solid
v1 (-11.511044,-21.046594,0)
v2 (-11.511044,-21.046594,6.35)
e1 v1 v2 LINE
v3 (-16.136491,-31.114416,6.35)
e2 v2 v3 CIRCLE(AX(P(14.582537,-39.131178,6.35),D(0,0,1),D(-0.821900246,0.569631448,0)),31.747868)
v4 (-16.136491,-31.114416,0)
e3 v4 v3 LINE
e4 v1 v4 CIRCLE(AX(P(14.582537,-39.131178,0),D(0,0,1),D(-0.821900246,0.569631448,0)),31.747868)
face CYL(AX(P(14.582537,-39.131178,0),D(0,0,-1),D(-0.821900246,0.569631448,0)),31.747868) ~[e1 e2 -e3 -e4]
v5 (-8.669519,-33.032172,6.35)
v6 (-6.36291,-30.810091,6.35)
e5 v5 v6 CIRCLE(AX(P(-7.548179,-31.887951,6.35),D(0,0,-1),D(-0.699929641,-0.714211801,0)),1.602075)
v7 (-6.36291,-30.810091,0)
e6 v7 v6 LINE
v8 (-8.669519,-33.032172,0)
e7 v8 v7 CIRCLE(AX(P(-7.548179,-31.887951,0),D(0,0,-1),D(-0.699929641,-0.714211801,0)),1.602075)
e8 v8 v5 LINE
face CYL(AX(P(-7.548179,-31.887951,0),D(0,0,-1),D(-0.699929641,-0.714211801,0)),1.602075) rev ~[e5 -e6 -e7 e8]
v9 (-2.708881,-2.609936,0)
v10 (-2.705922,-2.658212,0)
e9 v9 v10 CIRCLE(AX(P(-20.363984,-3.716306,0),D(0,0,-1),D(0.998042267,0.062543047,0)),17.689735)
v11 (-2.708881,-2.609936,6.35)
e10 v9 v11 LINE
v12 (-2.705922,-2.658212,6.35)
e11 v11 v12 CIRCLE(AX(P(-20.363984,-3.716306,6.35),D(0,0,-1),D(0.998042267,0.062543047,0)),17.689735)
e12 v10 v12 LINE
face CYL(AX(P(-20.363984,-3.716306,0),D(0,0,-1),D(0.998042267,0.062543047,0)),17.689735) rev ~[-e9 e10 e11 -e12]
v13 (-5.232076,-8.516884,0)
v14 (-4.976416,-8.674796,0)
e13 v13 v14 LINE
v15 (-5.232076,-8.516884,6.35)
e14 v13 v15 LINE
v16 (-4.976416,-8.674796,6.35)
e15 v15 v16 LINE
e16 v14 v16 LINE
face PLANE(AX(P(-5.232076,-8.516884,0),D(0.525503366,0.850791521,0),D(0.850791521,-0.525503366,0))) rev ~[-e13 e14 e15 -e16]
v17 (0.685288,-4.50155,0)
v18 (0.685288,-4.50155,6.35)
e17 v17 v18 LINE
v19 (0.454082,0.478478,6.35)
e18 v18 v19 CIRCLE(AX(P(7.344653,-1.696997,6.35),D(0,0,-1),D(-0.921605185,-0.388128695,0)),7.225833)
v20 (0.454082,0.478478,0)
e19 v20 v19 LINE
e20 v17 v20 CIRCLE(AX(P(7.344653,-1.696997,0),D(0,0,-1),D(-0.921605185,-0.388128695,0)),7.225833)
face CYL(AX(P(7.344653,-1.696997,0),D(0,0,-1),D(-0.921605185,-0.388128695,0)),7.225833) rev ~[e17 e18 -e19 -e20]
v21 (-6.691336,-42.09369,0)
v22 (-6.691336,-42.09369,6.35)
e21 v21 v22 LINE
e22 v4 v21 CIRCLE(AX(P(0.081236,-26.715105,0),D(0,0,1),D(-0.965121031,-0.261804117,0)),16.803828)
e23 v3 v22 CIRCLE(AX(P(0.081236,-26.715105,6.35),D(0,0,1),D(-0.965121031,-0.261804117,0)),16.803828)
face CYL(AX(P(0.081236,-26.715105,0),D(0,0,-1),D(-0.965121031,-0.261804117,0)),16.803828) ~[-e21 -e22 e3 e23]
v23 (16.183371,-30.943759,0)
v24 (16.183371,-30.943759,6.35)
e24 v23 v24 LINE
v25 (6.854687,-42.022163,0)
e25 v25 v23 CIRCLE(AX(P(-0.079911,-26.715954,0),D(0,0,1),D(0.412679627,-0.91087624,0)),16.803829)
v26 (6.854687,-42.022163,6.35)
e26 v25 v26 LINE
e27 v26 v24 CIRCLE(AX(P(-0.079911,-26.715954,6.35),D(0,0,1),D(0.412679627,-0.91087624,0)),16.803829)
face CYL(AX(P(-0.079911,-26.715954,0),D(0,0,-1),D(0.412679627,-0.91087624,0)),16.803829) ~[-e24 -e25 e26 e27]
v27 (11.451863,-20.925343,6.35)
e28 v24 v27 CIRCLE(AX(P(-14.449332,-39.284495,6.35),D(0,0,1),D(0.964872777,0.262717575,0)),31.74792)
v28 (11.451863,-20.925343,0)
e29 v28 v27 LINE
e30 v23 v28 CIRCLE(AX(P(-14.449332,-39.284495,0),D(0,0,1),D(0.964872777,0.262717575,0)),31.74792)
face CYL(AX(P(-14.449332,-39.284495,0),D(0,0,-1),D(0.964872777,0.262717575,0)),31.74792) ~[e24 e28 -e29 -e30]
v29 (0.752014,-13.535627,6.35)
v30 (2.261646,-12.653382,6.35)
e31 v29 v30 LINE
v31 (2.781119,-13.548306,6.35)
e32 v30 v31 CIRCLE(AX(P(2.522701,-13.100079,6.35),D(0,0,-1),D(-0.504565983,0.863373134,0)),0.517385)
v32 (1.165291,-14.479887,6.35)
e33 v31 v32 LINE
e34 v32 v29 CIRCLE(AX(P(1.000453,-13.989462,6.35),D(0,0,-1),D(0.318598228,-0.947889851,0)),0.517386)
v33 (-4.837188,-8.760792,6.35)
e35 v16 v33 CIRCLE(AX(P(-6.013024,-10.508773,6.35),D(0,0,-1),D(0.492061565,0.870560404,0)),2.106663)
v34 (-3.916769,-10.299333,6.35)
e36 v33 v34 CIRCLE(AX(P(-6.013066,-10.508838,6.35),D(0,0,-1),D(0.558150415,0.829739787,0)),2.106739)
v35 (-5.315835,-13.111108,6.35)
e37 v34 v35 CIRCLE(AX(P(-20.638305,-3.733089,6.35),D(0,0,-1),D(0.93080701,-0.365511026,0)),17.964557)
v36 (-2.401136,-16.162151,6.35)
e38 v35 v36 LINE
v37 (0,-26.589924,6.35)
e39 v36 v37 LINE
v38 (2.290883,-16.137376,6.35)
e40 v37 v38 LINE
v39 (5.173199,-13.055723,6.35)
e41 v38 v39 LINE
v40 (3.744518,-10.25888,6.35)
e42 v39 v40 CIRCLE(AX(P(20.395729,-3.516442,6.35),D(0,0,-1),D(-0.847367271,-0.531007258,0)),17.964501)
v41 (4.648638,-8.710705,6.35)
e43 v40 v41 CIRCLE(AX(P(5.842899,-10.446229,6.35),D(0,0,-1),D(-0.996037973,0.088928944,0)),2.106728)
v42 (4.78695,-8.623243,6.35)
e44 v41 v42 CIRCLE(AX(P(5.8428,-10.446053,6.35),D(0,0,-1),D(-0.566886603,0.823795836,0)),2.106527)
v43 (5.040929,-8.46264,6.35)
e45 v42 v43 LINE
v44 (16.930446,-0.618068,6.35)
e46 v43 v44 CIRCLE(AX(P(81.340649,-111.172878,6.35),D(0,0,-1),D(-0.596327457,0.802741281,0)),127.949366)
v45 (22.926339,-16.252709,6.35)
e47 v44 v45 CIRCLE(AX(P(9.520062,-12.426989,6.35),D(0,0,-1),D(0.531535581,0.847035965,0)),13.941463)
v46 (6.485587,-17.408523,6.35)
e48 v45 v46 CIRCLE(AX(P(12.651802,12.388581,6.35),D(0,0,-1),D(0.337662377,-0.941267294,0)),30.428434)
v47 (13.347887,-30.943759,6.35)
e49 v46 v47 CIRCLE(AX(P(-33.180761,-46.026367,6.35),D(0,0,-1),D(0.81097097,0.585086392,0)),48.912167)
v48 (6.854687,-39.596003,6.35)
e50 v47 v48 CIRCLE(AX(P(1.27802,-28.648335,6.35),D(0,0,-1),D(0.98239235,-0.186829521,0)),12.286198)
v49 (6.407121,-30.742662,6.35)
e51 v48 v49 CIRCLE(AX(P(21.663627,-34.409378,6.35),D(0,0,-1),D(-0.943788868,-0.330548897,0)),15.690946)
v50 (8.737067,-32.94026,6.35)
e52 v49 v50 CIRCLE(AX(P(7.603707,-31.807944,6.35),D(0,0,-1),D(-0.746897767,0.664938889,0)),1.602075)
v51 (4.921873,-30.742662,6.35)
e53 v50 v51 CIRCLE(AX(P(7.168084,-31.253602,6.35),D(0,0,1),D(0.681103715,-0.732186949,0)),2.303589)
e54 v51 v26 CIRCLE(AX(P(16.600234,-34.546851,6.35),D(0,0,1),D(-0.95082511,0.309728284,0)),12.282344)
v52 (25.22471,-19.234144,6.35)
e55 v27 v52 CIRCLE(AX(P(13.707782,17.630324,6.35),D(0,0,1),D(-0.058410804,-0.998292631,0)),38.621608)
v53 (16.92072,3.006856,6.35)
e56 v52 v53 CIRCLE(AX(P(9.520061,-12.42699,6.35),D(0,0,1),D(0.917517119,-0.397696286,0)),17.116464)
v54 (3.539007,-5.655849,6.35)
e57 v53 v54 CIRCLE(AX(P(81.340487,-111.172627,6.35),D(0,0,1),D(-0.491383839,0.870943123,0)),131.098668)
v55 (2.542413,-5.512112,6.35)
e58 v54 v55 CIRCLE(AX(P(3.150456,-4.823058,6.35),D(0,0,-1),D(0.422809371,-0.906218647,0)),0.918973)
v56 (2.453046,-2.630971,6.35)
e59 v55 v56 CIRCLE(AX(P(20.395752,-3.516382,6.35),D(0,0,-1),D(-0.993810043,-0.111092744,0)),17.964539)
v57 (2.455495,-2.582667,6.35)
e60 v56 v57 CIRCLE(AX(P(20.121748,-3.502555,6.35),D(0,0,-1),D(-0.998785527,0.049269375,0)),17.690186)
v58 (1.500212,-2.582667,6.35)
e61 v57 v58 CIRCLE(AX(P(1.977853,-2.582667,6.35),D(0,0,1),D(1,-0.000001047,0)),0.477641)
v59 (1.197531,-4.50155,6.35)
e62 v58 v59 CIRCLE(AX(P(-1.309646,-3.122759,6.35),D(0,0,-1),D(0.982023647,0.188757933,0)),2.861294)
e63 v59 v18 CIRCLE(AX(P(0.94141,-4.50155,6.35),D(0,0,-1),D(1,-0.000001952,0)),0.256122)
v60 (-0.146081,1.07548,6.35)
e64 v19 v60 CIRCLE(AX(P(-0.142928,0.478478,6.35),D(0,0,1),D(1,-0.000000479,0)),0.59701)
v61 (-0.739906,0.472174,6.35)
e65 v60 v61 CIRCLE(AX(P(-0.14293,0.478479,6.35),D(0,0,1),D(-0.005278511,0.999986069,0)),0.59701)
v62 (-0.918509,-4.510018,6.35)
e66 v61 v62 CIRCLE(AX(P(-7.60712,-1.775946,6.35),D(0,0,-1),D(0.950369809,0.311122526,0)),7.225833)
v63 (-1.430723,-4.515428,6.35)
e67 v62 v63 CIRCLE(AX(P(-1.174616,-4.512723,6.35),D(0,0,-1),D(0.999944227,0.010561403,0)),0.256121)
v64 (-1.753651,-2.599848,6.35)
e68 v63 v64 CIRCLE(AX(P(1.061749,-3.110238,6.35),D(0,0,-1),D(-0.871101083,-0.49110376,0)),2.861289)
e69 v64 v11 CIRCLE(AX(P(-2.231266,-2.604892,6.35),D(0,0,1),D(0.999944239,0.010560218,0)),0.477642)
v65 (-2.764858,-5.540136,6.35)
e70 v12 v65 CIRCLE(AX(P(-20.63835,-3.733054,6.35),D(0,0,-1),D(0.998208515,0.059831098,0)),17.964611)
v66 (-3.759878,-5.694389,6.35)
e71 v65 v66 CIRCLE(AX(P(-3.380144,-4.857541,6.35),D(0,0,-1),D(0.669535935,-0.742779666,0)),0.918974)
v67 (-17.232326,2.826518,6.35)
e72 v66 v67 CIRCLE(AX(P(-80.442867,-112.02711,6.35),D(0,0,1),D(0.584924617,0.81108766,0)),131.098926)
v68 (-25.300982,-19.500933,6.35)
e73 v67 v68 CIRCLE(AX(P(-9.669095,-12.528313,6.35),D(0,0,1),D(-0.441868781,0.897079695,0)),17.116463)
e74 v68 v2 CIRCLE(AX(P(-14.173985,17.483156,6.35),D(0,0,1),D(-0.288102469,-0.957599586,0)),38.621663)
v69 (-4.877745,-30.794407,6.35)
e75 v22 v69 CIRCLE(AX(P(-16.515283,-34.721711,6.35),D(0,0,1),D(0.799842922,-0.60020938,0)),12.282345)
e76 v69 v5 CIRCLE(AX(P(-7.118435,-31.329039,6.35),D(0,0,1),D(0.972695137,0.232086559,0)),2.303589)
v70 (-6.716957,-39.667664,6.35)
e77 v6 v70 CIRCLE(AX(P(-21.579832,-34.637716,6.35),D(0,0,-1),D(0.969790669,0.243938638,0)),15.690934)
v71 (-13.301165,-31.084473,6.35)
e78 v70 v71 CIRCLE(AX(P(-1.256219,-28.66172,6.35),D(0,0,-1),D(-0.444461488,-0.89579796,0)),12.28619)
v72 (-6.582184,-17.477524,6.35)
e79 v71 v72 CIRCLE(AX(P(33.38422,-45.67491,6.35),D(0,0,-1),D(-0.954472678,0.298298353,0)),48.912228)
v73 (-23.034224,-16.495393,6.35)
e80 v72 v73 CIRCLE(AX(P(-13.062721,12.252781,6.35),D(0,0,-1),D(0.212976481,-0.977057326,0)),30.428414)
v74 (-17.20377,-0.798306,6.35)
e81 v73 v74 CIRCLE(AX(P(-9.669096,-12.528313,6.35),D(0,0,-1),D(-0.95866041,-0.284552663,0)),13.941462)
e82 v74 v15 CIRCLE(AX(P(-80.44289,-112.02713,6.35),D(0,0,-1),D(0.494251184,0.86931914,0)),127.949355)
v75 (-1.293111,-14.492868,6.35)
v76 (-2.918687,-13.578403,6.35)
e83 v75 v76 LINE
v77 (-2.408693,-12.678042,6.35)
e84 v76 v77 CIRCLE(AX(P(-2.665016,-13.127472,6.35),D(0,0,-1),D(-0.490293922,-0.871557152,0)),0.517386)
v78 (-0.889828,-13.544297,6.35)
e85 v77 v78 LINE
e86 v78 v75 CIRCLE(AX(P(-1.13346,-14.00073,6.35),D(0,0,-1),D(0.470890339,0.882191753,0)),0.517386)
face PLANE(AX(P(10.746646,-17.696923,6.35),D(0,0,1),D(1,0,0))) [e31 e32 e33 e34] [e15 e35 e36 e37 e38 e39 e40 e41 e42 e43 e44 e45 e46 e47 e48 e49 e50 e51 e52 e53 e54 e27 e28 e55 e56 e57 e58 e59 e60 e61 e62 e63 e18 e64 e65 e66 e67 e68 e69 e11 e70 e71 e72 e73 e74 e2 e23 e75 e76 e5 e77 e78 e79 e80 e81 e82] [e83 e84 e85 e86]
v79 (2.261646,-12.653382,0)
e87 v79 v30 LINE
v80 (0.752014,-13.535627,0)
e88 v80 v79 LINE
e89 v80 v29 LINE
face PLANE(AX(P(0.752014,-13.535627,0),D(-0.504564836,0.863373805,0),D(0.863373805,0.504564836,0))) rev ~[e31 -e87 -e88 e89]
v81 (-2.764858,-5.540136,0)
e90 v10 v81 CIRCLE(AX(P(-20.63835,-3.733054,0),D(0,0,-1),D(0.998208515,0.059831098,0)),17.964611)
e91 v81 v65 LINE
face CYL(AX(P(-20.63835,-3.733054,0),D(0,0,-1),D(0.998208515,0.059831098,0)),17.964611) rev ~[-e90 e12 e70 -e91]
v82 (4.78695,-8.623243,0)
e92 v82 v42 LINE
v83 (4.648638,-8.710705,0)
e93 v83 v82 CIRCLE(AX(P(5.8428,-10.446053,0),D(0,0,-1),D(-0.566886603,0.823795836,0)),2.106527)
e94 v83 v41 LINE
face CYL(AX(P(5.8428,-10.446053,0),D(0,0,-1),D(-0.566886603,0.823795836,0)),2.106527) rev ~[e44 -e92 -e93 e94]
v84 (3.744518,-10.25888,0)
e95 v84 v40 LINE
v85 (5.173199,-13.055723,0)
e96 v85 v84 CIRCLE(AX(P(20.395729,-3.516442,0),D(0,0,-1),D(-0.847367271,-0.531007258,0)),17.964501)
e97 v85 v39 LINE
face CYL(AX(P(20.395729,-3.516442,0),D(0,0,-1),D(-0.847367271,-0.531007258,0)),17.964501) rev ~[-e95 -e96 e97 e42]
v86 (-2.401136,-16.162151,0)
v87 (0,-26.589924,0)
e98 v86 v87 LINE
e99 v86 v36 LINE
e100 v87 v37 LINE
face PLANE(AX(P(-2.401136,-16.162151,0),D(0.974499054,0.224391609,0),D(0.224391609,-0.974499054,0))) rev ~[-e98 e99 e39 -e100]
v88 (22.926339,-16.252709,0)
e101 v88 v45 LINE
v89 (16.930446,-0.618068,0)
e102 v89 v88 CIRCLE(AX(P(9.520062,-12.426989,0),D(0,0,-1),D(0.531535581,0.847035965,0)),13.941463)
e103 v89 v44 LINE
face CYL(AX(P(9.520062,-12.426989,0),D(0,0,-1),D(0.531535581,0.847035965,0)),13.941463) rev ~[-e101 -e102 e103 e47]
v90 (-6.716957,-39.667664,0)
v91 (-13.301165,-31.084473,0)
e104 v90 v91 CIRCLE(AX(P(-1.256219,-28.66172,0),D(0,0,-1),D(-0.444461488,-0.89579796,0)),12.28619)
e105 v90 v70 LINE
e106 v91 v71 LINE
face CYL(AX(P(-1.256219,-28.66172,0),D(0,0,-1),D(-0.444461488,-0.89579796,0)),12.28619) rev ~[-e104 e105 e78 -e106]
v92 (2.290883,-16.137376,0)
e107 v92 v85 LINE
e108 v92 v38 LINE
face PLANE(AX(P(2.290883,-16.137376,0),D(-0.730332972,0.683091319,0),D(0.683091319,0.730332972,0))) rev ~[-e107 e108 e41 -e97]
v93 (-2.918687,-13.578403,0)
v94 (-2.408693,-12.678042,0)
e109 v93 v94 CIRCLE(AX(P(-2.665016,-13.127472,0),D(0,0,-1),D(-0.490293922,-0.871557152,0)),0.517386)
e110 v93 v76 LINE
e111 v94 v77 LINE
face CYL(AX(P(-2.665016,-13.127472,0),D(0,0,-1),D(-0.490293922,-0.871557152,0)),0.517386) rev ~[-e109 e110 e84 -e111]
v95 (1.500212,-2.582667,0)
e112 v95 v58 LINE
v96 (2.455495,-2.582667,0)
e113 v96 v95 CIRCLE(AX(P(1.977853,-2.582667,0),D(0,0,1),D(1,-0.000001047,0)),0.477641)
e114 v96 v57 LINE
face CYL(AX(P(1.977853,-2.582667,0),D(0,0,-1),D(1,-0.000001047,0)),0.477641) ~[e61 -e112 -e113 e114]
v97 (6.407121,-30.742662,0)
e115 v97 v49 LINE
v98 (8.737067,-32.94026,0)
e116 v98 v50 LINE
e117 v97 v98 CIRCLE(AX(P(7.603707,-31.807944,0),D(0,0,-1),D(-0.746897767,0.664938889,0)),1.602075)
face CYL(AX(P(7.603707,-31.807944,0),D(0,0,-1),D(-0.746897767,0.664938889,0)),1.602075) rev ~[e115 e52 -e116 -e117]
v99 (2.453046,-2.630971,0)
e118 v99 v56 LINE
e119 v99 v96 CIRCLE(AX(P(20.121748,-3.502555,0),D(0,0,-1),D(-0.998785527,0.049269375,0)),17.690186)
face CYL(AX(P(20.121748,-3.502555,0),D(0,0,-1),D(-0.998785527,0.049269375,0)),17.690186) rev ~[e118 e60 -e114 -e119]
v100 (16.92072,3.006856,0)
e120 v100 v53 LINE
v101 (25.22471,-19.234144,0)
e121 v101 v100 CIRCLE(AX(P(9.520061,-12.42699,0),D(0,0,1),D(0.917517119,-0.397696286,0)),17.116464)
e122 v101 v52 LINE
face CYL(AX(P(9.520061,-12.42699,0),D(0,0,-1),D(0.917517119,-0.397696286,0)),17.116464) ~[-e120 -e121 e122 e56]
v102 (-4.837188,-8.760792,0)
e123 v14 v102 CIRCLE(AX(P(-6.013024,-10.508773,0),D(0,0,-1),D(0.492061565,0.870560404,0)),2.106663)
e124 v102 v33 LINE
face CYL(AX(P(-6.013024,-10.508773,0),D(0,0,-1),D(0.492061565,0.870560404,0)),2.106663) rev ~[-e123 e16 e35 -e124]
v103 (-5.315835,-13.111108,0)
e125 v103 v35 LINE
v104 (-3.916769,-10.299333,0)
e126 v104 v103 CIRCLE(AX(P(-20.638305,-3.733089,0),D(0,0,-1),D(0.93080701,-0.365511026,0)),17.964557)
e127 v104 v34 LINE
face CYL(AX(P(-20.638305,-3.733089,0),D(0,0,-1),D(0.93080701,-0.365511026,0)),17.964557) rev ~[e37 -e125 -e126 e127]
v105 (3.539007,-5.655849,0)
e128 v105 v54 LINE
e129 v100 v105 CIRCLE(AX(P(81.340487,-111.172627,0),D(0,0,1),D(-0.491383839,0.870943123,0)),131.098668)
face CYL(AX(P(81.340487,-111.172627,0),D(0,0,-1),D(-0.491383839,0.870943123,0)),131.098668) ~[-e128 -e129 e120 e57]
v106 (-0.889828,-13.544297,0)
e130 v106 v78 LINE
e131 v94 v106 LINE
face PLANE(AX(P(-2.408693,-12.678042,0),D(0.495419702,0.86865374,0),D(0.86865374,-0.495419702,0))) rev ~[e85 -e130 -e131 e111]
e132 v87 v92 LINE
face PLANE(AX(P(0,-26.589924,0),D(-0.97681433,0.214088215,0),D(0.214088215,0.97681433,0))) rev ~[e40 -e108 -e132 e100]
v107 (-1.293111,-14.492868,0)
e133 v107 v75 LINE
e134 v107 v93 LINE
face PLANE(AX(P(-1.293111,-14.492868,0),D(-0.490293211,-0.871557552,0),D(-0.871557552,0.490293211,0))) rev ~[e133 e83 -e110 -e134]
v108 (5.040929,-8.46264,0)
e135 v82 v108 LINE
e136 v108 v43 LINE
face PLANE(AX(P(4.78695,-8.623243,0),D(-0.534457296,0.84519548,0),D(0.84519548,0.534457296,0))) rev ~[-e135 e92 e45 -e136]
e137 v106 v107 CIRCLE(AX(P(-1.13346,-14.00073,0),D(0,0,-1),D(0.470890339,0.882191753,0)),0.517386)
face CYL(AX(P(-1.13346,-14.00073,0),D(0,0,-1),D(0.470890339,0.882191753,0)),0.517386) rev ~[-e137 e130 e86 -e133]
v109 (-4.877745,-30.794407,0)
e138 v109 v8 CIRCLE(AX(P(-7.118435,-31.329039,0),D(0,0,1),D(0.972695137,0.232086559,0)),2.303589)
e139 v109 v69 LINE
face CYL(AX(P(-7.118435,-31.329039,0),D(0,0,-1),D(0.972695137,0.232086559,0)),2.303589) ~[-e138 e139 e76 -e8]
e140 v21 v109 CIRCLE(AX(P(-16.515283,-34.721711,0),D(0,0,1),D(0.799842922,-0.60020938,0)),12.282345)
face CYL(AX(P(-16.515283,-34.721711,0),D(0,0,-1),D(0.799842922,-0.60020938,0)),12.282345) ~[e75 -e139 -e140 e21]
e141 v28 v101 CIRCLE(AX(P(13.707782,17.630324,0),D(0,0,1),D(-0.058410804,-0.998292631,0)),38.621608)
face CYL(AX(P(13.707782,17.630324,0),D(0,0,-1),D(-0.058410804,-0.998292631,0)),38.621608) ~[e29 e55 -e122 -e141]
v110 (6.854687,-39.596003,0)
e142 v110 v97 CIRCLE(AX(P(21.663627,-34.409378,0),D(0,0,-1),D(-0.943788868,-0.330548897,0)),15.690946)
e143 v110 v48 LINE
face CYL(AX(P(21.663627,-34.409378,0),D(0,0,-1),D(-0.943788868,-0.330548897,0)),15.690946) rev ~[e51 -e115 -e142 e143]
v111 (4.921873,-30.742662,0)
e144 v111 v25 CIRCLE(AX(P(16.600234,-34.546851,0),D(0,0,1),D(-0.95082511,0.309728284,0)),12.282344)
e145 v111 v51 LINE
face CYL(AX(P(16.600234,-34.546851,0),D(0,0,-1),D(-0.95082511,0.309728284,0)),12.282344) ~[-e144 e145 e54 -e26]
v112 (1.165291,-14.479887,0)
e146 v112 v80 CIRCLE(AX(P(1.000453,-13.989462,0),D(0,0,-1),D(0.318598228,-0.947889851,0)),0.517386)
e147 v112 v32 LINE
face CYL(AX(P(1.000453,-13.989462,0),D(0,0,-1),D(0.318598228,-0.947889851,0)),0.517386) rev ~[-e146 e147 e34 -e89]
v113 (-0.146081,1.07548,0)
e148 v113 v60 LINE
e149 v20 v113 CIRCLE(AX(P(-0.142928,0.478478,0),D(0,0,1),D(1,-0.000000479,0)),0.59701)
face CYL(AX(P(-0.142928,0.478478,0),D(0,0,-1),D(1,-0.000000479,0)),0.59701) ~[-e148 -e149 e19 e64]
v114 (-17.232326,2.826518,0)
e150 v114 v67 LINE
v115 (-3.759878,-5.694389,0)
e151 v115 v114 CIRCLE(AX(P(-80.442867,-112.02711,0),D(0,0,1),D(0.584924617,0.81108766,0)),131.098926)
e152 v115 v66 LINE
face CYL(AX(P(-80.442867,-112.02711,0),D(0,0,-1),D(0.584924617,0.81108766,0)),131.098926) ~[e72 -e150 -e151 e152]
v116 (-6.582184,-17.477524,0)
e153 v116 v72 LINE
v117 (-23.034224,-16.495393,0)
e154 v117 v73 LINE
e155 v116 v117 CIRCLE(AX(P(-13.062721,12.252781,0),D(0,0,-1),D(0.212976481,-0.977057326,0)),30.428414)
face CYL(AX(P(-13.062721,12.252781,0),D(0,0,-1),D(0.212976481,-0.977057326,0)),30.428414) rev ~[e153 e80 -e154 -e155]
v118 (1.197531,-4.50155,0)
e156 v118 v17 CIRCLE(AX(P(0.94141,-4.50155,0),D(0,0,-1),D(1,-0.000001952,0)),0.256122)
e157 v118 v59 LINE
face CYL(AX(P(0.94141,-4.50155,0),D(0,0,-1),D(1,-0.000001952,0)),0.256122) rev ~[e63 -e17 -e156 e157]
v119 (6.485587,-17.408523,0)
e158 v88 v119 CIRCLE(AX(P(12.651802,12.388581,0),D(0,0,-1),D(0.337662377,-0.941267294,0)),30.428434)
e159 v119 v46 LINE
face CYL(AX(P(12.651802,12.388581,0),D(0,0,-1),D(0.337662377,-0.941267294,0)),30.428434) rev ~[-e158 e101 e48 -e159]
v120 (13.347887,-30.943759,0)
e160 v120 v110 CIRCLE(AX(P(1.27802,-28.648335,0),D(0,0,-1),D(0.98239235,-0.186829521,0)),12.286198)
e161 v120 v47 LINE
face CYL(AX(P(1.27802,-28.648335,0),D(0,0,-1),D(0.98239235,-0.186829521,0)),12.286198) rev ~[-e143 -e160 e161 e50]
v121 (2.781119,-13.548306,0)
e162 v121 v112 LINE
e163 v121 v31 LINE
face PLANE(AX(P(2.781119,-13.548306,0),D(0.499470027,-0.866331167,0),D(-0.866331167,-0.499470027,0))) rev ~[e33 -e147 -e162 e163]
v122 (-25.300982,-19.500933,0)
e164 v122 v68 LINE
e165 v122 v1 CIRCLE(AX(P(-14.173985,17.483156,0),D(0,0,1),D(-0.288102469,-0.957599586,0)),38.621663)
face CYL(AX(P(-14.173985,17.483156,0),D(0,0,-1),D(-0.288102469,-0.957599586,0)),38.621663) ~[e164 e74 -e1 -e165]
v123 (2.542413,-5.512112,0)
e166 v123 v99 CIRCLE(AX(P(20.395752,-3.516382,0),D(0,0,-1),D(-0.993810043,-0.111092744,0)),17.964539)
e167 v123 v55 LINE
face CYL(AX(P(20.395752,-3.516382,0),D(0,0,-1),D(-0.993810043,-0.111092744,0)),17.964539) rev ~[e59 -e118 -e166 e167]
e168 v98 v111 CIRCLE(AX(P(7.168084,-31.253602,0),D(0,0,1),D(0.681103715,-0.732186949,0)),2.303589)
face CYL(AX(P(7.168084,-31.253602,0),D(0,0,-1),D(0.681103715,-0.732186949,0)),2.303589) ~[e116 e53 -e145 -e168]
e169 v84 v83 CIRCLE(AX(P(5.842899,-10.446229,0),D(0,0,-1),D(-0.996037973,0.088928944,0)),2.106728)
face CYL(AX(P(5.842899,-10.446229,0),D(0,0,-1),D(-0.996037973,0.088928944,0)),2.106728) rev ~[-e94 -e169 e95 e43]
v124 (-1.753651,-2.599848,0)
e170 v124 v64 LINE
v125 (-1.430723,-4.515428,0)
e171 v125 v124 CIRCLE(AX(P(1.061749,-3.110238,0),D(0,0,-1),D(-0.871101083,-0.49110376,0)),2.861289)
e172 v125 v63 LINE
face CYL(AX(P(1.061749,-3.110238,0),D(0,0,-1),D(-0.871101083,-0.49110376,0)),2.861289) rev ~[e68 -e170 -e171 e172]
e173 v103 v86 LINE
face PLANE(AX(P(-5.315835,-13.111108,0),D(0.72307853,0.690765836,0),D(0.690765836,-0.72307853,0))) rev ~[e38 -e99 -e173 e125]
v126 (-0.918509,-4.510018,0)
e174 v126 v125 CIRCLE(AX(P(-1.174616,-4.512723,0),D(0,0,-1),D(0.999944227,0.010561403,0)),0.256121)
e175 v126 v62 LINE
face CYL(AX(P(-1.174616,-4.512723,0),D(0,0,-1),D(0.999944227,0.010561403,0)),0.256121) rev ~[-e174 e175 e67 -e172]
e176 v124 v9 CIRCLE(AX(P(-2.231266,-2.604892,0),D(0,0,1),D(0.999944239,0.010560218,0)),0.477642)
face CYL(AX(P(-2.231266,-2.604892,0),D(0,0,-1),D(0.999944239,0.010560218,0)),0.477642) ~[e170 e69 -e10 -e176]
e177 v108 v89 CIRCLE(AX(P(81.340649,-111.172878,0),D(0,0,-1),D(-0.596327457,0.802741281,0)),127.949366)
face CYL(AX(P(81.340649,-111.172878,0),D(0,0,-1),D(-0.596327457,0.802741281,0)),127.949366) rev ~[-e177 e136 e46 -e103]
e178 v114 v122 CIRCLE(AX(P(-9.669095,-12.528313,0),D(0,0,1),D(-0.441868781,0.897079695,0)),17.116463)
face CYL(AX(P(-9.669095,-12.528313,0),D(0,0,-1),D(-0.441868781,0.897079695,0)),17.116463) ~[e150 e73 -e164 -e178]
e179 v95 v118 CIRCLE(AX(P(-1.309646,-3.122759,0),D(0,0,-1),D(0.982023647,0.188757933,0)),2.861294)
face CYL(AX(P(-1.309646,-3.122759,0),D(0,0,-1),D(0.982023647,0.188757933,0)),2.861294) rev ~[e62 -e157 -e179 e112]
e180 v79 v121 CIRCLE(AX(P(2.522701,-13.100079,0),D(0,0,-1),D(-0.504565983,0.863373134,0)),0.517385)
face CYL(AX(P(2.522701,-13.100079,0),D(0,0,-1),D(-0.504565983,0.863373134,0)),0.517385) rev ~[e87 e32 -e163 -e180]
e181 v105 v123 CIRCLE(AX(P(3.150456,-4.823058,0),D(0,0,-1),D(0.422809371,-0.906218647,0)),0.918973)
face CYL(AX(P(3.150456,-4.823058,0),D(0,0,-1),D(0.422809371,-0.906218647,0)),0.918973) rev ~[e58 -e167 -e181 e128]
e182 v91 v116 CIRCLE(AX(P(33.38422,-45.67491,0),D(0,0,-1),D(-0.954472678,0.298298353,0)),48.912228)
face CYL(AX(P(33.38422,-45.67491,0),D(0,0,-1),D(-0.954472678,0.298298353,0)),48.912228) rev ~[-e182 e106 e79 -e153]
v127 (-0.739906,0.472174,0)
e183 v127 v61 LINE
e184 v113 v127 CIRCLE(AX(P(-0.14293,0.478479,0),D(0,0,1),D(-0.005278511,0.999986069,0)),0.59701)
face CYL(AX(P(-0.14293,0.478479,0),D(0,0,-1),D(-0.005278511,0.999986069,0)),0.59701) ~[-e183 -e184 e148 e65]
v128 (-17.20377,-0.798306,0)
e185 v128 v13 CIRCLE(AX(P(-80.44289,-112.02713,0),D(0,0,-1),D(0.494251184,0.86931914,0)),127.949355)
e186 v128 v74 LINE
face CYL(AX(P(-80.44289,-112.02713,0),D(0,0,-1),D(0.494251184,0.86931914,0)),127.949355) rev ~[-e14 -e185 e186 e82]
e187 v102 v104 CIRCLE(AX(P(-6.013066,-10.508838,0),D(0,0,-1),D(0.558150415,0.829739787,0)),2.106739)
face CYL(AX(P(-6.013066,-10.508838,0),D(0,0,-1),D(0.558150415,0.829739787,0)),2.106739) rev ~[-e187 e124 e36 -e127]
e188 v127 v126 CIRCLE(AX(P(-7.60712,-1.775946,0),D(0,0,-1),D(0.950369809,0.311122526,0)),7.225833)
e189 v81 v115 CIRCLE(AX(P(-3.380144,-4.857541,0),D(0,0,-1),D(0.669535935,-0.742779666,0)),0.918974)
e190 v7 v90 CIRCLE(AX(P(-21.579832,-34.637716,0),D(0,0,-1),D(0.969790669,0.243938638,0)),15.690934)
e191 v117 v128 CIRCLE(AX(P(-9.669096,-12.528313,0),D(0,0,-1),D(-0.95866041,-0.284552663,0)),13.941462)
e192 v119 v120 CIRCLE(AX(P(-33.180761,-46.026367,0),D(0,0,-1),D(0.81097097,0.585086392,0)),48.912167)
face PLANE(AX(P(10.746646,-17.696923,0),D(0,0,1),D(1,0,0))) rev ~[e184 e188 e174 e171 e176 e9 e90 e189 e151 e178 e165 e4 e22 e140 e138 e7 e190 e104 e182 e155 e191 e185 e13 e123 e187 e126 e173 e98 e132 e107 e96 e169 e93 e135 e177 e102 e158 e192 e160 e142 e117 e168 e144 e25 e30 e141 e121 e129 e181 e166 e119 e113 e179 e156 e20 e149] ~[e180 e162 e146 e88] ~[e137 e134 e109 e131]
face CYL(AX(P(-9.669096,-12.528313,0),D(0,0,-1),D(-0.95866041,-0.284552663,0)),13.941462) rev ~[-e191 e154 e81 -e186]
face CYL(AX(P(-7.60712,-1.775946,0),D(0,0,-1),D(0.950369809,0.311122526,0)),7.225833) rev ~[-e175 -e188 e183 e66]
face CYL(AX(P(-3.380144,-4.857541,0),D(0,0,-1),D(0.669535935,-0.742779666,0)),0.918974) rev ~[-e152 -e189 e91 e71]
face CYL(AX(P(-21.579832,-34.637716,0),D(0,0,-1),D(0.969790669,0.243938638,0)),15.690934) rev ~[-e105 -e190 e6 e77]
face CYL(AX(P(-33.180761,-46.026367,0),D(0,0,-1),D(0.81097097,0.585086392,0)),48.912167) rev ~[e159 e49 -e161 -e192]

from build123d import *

# Parameters (mm, degrees)
F1_DEPTH = 6.35


with BuildPart() as f1:
    # F0 (on Top) → F1 (new body)
    with BuildSketch(Plane.XY):
        with BuildLine():
            ThreePointArc((0.454082, 0.478478), (0.278106, 0.901741), (-0.146081, 1.07548))
            Line((-0.146081, 1.07548), (0, -26.589924))
            Line((0, -26.589924), (2.290883, -16.137376))
            Line((2.290883, -16.137376), (5.173199, -13.055723))
            ThreePointArc((5.173199, -13.055723), (4.397622, -11.688582), (3.744518, -10.25888))
            ThreePointArc((3.744518, -10.25888), (4.023673, -9.383817), (4.648638, -8.710705))
            ThreePointArc((4.648638, -8.710705), (4.716945, -8.66563), (4.78695, -8.623243))
            Line((4.78695, -8.623243), (5.040929, -8.46264))
            ThreePointArc((5.040929, -8.46264), (10.876438, -4.374773), (16.930446, -0.618068))
            ThreePointArc((16.930446, -0.618068), (22.537122, -7.43494), (22.926339, -16.252709))
            ThreePointArc((22.926339, -16.252709), (14.785708, -17.964937), (6.485587, -17.408523))
            ThreePointArc((6.485587, -17.408523), (10.444862, -23.908384), (13.347887, -30.943759))
            ThreePointArc((13.347887, -30.943759), (11.104788, -36.022973), (6.854687, -39.596003))
            ThreePointArc((6.854687, -39.596003), (5.992693, -35.201596), (6.407121, -30.742662))
            ThreePointArc((6.407121, -30.742662), (8.702961, -30.642489), (8.737067, -32.94026))
            ThreePointArc((8.737067, -32.94026), (8.317875, -29.25748), (4.921873, -30.742662))
            ThreePointArc((4.921873, -30.742662), (4.494337, -36.621274), (6.854687, -42.022163))
            ThreePointArc((6.854687, -42.022163), (12.773811, -37.539563), (16.183371, -30.943759))
            ThreePointArc((16.183371, -30.943759), (14.258029, -25.726553), (11.451863, -20.925343))
            ThreePointArc((11.451863, -20.925343), (18.414863, -20.703369), (25.22471, -19.234144))
            ThreePointArc((25.22471, -19.234144), (25.555314, -6.440003), (16.92072, 3.006856))
            ThreePointArc((16.92072, 3.006856), (10.098074, -1.120915), (3.539007, -5.655849))
            ThreePointArc((3.539007, -5.655849), (3.019272, -5.73262), (2.542413, -5.512112))
            ThreePointArc((2.542413, -5.512112), (2.439849, -4.073337), (2.453046, -2.630971))
            ThreePointArc((2.453046, -2.630971), (2.454254, -2.606818), (2.455495, -2.582667))
            ThreePointArc((2.455495, -2.582667), (1.977854, -2.105025), (1.500212, -2.582667))
            ThreePointArc((1.500212, -2.582667), (1.516702, -3.568582), (1.197531, -4.50155))
            ThreePointArc((1.197531, -4.50155), (0.94141, -4.757671), (0.685288, -4.50155))
            ThreePointArc((0.685288, -4.50155), (0.126595, -2.032107), (0.454082, 0.478478))
        make_face()
        with BuildLine():
            ThreePointArc((1.165291, -14.479887), (0.526476, -14.196909), (0.752014, -13.535627))
            Line((0.752014, -13.535627), (2.261646, -12.653382))
            ThreePointArc((2.261646, -12.653382), (2.970165, -12.840341), (2.781119, -13.548306))
            Line((2.781119, -13.548306), (1.165291, -14.479887))
        make_face(mode=Mode.SUBTRACT)
        with BuildLine():
            Line((0, -26.589924), (-0.146081, 1.07548))
            ThreePointArc((-0.146081, 1.07548), (-0.568409, 0.897272), (-0.739906, 0.472174))
            ThreePointArc((-0.739906, 0.472174), (-0.385925, -2.034813), (-0.918509, -4.510018))
            ThreePointArc((-0.918509, -4.510018), (-1.171911, -4.76883), (-1.430723, -4.515428))
            ThreePointArc((-1.430723, -4.515428), (-1.759729, -3.585882), (-1.753651, -2.599848))
            ThreePointArc((-1.753651, -2.599848), (-2.23631, -2.127277), (-2.708881, -2.609936))
            ThreePointArc((-2.708881, -2.609936), (-2.707385, -2.634073), (-2.705922, -2.658212))
            ThreePointArc((-2.705922, -2.658212), (-2.677494, -4.100358), (-2.764858, -5.540136))
            ThreePointArc((-2.764858, -5.540136), (-3.239361, -5.765667), (-3.759878, -5.694389))
            ThreePointArc((-3.759878, -5.694389), (-10.36647, -1.228974), (-17.232326, 2.826518))
            ThreePointArc((-17.232326, 2.826518), (-25.766677, -6.710997), (-25.300982, -19.500933))
            ThreePointArc((-25.300982, -19.500933), (-18.475999, -20.898162), (-11.511044, -21.046594))
            ThreePointArc((-11.511044, -21.046594), (-14.266352, -25.877169), (-16.136491, -31.114416))
            ThreePointArc((-16.136491, -31.114416), (-12.657468, -37.673847), (-6.691336, -42.09369))
            ThreePointArc((-6.691336, -42.09369), (-4.388153, -36.668176), (-4.877745, -30.794407))
            ThreePointArc((-4.877745, -30.794407), (-8.289241, -29.34517), (-8.669519, -33.032172))
            ThreePointArc((-8.669519, -33.032172), (-8.659679, -30.734169), (-6.36291, -30.810091))
            ThreePointArc((-6.36291, -30.810091), (-5.901417, -35.2644), (-6.716957, -39.667664))
            ThreePointArc((-6.716957, -39.667664), (-11.004554, -36.139716), (-13.301165, -31.084473))
            ThreePointArc((-13.301165, -31.084473), (-10.472597, -24.018834), (-6.582184, -17.477524))
            ThreePointArc((-6.582184, -17.477524), (-14.875966, -18.121559), (-23.034224, -16.495393))
            ThreePointArc((-23.034224, -16.495393), (-22.738146, -7.674005), (-17.20377, -0.798306))
            ThreePointArc((-17.20377, -0.798306), (-11.110429, -4.490869), (-5.232076, -8.516884))
            Line((-5.232076, -8.516884), (-4.976416, -8.674796))
            ThreePointArc((-4.976416, -8.674796), (-4.905966, -8.716442), (-4.837188, -8.760792))
            ThreePointArc((-4.837188, -8.760792), (-4.20515, -9.427268), (-3.916769, -10.299333))
            ThreePointArc((-3.916769, -10.299333), (-4.554739, -11.735853), (-5.315835, -13.111108))
            Line((-5.315835, -13.111108), (-2.401136, -16.162151))
            Line((-2.401136, -16.162151), (0, -26.589924))
        make_face()
        with BuildLine():
            Line((-2.408693, -12.678042), (-0.889828, -13.544297))
            ThreePointArc((-0.889828, -13.544297), (-0.657319, -14.20316), (-1.293111, -14.492868))
            Line((-1.293111, -14.492868), (-2.918687, -13.578403))
            ThreePointArc((-2.918687, -13.578403), (-3.115198, -12.872473), (-2.408693, -12.678042))
        make_face(mode=Mode.SUBTRACT)
    extrude(amount=F1_DEPTH)


solid = f1.part
